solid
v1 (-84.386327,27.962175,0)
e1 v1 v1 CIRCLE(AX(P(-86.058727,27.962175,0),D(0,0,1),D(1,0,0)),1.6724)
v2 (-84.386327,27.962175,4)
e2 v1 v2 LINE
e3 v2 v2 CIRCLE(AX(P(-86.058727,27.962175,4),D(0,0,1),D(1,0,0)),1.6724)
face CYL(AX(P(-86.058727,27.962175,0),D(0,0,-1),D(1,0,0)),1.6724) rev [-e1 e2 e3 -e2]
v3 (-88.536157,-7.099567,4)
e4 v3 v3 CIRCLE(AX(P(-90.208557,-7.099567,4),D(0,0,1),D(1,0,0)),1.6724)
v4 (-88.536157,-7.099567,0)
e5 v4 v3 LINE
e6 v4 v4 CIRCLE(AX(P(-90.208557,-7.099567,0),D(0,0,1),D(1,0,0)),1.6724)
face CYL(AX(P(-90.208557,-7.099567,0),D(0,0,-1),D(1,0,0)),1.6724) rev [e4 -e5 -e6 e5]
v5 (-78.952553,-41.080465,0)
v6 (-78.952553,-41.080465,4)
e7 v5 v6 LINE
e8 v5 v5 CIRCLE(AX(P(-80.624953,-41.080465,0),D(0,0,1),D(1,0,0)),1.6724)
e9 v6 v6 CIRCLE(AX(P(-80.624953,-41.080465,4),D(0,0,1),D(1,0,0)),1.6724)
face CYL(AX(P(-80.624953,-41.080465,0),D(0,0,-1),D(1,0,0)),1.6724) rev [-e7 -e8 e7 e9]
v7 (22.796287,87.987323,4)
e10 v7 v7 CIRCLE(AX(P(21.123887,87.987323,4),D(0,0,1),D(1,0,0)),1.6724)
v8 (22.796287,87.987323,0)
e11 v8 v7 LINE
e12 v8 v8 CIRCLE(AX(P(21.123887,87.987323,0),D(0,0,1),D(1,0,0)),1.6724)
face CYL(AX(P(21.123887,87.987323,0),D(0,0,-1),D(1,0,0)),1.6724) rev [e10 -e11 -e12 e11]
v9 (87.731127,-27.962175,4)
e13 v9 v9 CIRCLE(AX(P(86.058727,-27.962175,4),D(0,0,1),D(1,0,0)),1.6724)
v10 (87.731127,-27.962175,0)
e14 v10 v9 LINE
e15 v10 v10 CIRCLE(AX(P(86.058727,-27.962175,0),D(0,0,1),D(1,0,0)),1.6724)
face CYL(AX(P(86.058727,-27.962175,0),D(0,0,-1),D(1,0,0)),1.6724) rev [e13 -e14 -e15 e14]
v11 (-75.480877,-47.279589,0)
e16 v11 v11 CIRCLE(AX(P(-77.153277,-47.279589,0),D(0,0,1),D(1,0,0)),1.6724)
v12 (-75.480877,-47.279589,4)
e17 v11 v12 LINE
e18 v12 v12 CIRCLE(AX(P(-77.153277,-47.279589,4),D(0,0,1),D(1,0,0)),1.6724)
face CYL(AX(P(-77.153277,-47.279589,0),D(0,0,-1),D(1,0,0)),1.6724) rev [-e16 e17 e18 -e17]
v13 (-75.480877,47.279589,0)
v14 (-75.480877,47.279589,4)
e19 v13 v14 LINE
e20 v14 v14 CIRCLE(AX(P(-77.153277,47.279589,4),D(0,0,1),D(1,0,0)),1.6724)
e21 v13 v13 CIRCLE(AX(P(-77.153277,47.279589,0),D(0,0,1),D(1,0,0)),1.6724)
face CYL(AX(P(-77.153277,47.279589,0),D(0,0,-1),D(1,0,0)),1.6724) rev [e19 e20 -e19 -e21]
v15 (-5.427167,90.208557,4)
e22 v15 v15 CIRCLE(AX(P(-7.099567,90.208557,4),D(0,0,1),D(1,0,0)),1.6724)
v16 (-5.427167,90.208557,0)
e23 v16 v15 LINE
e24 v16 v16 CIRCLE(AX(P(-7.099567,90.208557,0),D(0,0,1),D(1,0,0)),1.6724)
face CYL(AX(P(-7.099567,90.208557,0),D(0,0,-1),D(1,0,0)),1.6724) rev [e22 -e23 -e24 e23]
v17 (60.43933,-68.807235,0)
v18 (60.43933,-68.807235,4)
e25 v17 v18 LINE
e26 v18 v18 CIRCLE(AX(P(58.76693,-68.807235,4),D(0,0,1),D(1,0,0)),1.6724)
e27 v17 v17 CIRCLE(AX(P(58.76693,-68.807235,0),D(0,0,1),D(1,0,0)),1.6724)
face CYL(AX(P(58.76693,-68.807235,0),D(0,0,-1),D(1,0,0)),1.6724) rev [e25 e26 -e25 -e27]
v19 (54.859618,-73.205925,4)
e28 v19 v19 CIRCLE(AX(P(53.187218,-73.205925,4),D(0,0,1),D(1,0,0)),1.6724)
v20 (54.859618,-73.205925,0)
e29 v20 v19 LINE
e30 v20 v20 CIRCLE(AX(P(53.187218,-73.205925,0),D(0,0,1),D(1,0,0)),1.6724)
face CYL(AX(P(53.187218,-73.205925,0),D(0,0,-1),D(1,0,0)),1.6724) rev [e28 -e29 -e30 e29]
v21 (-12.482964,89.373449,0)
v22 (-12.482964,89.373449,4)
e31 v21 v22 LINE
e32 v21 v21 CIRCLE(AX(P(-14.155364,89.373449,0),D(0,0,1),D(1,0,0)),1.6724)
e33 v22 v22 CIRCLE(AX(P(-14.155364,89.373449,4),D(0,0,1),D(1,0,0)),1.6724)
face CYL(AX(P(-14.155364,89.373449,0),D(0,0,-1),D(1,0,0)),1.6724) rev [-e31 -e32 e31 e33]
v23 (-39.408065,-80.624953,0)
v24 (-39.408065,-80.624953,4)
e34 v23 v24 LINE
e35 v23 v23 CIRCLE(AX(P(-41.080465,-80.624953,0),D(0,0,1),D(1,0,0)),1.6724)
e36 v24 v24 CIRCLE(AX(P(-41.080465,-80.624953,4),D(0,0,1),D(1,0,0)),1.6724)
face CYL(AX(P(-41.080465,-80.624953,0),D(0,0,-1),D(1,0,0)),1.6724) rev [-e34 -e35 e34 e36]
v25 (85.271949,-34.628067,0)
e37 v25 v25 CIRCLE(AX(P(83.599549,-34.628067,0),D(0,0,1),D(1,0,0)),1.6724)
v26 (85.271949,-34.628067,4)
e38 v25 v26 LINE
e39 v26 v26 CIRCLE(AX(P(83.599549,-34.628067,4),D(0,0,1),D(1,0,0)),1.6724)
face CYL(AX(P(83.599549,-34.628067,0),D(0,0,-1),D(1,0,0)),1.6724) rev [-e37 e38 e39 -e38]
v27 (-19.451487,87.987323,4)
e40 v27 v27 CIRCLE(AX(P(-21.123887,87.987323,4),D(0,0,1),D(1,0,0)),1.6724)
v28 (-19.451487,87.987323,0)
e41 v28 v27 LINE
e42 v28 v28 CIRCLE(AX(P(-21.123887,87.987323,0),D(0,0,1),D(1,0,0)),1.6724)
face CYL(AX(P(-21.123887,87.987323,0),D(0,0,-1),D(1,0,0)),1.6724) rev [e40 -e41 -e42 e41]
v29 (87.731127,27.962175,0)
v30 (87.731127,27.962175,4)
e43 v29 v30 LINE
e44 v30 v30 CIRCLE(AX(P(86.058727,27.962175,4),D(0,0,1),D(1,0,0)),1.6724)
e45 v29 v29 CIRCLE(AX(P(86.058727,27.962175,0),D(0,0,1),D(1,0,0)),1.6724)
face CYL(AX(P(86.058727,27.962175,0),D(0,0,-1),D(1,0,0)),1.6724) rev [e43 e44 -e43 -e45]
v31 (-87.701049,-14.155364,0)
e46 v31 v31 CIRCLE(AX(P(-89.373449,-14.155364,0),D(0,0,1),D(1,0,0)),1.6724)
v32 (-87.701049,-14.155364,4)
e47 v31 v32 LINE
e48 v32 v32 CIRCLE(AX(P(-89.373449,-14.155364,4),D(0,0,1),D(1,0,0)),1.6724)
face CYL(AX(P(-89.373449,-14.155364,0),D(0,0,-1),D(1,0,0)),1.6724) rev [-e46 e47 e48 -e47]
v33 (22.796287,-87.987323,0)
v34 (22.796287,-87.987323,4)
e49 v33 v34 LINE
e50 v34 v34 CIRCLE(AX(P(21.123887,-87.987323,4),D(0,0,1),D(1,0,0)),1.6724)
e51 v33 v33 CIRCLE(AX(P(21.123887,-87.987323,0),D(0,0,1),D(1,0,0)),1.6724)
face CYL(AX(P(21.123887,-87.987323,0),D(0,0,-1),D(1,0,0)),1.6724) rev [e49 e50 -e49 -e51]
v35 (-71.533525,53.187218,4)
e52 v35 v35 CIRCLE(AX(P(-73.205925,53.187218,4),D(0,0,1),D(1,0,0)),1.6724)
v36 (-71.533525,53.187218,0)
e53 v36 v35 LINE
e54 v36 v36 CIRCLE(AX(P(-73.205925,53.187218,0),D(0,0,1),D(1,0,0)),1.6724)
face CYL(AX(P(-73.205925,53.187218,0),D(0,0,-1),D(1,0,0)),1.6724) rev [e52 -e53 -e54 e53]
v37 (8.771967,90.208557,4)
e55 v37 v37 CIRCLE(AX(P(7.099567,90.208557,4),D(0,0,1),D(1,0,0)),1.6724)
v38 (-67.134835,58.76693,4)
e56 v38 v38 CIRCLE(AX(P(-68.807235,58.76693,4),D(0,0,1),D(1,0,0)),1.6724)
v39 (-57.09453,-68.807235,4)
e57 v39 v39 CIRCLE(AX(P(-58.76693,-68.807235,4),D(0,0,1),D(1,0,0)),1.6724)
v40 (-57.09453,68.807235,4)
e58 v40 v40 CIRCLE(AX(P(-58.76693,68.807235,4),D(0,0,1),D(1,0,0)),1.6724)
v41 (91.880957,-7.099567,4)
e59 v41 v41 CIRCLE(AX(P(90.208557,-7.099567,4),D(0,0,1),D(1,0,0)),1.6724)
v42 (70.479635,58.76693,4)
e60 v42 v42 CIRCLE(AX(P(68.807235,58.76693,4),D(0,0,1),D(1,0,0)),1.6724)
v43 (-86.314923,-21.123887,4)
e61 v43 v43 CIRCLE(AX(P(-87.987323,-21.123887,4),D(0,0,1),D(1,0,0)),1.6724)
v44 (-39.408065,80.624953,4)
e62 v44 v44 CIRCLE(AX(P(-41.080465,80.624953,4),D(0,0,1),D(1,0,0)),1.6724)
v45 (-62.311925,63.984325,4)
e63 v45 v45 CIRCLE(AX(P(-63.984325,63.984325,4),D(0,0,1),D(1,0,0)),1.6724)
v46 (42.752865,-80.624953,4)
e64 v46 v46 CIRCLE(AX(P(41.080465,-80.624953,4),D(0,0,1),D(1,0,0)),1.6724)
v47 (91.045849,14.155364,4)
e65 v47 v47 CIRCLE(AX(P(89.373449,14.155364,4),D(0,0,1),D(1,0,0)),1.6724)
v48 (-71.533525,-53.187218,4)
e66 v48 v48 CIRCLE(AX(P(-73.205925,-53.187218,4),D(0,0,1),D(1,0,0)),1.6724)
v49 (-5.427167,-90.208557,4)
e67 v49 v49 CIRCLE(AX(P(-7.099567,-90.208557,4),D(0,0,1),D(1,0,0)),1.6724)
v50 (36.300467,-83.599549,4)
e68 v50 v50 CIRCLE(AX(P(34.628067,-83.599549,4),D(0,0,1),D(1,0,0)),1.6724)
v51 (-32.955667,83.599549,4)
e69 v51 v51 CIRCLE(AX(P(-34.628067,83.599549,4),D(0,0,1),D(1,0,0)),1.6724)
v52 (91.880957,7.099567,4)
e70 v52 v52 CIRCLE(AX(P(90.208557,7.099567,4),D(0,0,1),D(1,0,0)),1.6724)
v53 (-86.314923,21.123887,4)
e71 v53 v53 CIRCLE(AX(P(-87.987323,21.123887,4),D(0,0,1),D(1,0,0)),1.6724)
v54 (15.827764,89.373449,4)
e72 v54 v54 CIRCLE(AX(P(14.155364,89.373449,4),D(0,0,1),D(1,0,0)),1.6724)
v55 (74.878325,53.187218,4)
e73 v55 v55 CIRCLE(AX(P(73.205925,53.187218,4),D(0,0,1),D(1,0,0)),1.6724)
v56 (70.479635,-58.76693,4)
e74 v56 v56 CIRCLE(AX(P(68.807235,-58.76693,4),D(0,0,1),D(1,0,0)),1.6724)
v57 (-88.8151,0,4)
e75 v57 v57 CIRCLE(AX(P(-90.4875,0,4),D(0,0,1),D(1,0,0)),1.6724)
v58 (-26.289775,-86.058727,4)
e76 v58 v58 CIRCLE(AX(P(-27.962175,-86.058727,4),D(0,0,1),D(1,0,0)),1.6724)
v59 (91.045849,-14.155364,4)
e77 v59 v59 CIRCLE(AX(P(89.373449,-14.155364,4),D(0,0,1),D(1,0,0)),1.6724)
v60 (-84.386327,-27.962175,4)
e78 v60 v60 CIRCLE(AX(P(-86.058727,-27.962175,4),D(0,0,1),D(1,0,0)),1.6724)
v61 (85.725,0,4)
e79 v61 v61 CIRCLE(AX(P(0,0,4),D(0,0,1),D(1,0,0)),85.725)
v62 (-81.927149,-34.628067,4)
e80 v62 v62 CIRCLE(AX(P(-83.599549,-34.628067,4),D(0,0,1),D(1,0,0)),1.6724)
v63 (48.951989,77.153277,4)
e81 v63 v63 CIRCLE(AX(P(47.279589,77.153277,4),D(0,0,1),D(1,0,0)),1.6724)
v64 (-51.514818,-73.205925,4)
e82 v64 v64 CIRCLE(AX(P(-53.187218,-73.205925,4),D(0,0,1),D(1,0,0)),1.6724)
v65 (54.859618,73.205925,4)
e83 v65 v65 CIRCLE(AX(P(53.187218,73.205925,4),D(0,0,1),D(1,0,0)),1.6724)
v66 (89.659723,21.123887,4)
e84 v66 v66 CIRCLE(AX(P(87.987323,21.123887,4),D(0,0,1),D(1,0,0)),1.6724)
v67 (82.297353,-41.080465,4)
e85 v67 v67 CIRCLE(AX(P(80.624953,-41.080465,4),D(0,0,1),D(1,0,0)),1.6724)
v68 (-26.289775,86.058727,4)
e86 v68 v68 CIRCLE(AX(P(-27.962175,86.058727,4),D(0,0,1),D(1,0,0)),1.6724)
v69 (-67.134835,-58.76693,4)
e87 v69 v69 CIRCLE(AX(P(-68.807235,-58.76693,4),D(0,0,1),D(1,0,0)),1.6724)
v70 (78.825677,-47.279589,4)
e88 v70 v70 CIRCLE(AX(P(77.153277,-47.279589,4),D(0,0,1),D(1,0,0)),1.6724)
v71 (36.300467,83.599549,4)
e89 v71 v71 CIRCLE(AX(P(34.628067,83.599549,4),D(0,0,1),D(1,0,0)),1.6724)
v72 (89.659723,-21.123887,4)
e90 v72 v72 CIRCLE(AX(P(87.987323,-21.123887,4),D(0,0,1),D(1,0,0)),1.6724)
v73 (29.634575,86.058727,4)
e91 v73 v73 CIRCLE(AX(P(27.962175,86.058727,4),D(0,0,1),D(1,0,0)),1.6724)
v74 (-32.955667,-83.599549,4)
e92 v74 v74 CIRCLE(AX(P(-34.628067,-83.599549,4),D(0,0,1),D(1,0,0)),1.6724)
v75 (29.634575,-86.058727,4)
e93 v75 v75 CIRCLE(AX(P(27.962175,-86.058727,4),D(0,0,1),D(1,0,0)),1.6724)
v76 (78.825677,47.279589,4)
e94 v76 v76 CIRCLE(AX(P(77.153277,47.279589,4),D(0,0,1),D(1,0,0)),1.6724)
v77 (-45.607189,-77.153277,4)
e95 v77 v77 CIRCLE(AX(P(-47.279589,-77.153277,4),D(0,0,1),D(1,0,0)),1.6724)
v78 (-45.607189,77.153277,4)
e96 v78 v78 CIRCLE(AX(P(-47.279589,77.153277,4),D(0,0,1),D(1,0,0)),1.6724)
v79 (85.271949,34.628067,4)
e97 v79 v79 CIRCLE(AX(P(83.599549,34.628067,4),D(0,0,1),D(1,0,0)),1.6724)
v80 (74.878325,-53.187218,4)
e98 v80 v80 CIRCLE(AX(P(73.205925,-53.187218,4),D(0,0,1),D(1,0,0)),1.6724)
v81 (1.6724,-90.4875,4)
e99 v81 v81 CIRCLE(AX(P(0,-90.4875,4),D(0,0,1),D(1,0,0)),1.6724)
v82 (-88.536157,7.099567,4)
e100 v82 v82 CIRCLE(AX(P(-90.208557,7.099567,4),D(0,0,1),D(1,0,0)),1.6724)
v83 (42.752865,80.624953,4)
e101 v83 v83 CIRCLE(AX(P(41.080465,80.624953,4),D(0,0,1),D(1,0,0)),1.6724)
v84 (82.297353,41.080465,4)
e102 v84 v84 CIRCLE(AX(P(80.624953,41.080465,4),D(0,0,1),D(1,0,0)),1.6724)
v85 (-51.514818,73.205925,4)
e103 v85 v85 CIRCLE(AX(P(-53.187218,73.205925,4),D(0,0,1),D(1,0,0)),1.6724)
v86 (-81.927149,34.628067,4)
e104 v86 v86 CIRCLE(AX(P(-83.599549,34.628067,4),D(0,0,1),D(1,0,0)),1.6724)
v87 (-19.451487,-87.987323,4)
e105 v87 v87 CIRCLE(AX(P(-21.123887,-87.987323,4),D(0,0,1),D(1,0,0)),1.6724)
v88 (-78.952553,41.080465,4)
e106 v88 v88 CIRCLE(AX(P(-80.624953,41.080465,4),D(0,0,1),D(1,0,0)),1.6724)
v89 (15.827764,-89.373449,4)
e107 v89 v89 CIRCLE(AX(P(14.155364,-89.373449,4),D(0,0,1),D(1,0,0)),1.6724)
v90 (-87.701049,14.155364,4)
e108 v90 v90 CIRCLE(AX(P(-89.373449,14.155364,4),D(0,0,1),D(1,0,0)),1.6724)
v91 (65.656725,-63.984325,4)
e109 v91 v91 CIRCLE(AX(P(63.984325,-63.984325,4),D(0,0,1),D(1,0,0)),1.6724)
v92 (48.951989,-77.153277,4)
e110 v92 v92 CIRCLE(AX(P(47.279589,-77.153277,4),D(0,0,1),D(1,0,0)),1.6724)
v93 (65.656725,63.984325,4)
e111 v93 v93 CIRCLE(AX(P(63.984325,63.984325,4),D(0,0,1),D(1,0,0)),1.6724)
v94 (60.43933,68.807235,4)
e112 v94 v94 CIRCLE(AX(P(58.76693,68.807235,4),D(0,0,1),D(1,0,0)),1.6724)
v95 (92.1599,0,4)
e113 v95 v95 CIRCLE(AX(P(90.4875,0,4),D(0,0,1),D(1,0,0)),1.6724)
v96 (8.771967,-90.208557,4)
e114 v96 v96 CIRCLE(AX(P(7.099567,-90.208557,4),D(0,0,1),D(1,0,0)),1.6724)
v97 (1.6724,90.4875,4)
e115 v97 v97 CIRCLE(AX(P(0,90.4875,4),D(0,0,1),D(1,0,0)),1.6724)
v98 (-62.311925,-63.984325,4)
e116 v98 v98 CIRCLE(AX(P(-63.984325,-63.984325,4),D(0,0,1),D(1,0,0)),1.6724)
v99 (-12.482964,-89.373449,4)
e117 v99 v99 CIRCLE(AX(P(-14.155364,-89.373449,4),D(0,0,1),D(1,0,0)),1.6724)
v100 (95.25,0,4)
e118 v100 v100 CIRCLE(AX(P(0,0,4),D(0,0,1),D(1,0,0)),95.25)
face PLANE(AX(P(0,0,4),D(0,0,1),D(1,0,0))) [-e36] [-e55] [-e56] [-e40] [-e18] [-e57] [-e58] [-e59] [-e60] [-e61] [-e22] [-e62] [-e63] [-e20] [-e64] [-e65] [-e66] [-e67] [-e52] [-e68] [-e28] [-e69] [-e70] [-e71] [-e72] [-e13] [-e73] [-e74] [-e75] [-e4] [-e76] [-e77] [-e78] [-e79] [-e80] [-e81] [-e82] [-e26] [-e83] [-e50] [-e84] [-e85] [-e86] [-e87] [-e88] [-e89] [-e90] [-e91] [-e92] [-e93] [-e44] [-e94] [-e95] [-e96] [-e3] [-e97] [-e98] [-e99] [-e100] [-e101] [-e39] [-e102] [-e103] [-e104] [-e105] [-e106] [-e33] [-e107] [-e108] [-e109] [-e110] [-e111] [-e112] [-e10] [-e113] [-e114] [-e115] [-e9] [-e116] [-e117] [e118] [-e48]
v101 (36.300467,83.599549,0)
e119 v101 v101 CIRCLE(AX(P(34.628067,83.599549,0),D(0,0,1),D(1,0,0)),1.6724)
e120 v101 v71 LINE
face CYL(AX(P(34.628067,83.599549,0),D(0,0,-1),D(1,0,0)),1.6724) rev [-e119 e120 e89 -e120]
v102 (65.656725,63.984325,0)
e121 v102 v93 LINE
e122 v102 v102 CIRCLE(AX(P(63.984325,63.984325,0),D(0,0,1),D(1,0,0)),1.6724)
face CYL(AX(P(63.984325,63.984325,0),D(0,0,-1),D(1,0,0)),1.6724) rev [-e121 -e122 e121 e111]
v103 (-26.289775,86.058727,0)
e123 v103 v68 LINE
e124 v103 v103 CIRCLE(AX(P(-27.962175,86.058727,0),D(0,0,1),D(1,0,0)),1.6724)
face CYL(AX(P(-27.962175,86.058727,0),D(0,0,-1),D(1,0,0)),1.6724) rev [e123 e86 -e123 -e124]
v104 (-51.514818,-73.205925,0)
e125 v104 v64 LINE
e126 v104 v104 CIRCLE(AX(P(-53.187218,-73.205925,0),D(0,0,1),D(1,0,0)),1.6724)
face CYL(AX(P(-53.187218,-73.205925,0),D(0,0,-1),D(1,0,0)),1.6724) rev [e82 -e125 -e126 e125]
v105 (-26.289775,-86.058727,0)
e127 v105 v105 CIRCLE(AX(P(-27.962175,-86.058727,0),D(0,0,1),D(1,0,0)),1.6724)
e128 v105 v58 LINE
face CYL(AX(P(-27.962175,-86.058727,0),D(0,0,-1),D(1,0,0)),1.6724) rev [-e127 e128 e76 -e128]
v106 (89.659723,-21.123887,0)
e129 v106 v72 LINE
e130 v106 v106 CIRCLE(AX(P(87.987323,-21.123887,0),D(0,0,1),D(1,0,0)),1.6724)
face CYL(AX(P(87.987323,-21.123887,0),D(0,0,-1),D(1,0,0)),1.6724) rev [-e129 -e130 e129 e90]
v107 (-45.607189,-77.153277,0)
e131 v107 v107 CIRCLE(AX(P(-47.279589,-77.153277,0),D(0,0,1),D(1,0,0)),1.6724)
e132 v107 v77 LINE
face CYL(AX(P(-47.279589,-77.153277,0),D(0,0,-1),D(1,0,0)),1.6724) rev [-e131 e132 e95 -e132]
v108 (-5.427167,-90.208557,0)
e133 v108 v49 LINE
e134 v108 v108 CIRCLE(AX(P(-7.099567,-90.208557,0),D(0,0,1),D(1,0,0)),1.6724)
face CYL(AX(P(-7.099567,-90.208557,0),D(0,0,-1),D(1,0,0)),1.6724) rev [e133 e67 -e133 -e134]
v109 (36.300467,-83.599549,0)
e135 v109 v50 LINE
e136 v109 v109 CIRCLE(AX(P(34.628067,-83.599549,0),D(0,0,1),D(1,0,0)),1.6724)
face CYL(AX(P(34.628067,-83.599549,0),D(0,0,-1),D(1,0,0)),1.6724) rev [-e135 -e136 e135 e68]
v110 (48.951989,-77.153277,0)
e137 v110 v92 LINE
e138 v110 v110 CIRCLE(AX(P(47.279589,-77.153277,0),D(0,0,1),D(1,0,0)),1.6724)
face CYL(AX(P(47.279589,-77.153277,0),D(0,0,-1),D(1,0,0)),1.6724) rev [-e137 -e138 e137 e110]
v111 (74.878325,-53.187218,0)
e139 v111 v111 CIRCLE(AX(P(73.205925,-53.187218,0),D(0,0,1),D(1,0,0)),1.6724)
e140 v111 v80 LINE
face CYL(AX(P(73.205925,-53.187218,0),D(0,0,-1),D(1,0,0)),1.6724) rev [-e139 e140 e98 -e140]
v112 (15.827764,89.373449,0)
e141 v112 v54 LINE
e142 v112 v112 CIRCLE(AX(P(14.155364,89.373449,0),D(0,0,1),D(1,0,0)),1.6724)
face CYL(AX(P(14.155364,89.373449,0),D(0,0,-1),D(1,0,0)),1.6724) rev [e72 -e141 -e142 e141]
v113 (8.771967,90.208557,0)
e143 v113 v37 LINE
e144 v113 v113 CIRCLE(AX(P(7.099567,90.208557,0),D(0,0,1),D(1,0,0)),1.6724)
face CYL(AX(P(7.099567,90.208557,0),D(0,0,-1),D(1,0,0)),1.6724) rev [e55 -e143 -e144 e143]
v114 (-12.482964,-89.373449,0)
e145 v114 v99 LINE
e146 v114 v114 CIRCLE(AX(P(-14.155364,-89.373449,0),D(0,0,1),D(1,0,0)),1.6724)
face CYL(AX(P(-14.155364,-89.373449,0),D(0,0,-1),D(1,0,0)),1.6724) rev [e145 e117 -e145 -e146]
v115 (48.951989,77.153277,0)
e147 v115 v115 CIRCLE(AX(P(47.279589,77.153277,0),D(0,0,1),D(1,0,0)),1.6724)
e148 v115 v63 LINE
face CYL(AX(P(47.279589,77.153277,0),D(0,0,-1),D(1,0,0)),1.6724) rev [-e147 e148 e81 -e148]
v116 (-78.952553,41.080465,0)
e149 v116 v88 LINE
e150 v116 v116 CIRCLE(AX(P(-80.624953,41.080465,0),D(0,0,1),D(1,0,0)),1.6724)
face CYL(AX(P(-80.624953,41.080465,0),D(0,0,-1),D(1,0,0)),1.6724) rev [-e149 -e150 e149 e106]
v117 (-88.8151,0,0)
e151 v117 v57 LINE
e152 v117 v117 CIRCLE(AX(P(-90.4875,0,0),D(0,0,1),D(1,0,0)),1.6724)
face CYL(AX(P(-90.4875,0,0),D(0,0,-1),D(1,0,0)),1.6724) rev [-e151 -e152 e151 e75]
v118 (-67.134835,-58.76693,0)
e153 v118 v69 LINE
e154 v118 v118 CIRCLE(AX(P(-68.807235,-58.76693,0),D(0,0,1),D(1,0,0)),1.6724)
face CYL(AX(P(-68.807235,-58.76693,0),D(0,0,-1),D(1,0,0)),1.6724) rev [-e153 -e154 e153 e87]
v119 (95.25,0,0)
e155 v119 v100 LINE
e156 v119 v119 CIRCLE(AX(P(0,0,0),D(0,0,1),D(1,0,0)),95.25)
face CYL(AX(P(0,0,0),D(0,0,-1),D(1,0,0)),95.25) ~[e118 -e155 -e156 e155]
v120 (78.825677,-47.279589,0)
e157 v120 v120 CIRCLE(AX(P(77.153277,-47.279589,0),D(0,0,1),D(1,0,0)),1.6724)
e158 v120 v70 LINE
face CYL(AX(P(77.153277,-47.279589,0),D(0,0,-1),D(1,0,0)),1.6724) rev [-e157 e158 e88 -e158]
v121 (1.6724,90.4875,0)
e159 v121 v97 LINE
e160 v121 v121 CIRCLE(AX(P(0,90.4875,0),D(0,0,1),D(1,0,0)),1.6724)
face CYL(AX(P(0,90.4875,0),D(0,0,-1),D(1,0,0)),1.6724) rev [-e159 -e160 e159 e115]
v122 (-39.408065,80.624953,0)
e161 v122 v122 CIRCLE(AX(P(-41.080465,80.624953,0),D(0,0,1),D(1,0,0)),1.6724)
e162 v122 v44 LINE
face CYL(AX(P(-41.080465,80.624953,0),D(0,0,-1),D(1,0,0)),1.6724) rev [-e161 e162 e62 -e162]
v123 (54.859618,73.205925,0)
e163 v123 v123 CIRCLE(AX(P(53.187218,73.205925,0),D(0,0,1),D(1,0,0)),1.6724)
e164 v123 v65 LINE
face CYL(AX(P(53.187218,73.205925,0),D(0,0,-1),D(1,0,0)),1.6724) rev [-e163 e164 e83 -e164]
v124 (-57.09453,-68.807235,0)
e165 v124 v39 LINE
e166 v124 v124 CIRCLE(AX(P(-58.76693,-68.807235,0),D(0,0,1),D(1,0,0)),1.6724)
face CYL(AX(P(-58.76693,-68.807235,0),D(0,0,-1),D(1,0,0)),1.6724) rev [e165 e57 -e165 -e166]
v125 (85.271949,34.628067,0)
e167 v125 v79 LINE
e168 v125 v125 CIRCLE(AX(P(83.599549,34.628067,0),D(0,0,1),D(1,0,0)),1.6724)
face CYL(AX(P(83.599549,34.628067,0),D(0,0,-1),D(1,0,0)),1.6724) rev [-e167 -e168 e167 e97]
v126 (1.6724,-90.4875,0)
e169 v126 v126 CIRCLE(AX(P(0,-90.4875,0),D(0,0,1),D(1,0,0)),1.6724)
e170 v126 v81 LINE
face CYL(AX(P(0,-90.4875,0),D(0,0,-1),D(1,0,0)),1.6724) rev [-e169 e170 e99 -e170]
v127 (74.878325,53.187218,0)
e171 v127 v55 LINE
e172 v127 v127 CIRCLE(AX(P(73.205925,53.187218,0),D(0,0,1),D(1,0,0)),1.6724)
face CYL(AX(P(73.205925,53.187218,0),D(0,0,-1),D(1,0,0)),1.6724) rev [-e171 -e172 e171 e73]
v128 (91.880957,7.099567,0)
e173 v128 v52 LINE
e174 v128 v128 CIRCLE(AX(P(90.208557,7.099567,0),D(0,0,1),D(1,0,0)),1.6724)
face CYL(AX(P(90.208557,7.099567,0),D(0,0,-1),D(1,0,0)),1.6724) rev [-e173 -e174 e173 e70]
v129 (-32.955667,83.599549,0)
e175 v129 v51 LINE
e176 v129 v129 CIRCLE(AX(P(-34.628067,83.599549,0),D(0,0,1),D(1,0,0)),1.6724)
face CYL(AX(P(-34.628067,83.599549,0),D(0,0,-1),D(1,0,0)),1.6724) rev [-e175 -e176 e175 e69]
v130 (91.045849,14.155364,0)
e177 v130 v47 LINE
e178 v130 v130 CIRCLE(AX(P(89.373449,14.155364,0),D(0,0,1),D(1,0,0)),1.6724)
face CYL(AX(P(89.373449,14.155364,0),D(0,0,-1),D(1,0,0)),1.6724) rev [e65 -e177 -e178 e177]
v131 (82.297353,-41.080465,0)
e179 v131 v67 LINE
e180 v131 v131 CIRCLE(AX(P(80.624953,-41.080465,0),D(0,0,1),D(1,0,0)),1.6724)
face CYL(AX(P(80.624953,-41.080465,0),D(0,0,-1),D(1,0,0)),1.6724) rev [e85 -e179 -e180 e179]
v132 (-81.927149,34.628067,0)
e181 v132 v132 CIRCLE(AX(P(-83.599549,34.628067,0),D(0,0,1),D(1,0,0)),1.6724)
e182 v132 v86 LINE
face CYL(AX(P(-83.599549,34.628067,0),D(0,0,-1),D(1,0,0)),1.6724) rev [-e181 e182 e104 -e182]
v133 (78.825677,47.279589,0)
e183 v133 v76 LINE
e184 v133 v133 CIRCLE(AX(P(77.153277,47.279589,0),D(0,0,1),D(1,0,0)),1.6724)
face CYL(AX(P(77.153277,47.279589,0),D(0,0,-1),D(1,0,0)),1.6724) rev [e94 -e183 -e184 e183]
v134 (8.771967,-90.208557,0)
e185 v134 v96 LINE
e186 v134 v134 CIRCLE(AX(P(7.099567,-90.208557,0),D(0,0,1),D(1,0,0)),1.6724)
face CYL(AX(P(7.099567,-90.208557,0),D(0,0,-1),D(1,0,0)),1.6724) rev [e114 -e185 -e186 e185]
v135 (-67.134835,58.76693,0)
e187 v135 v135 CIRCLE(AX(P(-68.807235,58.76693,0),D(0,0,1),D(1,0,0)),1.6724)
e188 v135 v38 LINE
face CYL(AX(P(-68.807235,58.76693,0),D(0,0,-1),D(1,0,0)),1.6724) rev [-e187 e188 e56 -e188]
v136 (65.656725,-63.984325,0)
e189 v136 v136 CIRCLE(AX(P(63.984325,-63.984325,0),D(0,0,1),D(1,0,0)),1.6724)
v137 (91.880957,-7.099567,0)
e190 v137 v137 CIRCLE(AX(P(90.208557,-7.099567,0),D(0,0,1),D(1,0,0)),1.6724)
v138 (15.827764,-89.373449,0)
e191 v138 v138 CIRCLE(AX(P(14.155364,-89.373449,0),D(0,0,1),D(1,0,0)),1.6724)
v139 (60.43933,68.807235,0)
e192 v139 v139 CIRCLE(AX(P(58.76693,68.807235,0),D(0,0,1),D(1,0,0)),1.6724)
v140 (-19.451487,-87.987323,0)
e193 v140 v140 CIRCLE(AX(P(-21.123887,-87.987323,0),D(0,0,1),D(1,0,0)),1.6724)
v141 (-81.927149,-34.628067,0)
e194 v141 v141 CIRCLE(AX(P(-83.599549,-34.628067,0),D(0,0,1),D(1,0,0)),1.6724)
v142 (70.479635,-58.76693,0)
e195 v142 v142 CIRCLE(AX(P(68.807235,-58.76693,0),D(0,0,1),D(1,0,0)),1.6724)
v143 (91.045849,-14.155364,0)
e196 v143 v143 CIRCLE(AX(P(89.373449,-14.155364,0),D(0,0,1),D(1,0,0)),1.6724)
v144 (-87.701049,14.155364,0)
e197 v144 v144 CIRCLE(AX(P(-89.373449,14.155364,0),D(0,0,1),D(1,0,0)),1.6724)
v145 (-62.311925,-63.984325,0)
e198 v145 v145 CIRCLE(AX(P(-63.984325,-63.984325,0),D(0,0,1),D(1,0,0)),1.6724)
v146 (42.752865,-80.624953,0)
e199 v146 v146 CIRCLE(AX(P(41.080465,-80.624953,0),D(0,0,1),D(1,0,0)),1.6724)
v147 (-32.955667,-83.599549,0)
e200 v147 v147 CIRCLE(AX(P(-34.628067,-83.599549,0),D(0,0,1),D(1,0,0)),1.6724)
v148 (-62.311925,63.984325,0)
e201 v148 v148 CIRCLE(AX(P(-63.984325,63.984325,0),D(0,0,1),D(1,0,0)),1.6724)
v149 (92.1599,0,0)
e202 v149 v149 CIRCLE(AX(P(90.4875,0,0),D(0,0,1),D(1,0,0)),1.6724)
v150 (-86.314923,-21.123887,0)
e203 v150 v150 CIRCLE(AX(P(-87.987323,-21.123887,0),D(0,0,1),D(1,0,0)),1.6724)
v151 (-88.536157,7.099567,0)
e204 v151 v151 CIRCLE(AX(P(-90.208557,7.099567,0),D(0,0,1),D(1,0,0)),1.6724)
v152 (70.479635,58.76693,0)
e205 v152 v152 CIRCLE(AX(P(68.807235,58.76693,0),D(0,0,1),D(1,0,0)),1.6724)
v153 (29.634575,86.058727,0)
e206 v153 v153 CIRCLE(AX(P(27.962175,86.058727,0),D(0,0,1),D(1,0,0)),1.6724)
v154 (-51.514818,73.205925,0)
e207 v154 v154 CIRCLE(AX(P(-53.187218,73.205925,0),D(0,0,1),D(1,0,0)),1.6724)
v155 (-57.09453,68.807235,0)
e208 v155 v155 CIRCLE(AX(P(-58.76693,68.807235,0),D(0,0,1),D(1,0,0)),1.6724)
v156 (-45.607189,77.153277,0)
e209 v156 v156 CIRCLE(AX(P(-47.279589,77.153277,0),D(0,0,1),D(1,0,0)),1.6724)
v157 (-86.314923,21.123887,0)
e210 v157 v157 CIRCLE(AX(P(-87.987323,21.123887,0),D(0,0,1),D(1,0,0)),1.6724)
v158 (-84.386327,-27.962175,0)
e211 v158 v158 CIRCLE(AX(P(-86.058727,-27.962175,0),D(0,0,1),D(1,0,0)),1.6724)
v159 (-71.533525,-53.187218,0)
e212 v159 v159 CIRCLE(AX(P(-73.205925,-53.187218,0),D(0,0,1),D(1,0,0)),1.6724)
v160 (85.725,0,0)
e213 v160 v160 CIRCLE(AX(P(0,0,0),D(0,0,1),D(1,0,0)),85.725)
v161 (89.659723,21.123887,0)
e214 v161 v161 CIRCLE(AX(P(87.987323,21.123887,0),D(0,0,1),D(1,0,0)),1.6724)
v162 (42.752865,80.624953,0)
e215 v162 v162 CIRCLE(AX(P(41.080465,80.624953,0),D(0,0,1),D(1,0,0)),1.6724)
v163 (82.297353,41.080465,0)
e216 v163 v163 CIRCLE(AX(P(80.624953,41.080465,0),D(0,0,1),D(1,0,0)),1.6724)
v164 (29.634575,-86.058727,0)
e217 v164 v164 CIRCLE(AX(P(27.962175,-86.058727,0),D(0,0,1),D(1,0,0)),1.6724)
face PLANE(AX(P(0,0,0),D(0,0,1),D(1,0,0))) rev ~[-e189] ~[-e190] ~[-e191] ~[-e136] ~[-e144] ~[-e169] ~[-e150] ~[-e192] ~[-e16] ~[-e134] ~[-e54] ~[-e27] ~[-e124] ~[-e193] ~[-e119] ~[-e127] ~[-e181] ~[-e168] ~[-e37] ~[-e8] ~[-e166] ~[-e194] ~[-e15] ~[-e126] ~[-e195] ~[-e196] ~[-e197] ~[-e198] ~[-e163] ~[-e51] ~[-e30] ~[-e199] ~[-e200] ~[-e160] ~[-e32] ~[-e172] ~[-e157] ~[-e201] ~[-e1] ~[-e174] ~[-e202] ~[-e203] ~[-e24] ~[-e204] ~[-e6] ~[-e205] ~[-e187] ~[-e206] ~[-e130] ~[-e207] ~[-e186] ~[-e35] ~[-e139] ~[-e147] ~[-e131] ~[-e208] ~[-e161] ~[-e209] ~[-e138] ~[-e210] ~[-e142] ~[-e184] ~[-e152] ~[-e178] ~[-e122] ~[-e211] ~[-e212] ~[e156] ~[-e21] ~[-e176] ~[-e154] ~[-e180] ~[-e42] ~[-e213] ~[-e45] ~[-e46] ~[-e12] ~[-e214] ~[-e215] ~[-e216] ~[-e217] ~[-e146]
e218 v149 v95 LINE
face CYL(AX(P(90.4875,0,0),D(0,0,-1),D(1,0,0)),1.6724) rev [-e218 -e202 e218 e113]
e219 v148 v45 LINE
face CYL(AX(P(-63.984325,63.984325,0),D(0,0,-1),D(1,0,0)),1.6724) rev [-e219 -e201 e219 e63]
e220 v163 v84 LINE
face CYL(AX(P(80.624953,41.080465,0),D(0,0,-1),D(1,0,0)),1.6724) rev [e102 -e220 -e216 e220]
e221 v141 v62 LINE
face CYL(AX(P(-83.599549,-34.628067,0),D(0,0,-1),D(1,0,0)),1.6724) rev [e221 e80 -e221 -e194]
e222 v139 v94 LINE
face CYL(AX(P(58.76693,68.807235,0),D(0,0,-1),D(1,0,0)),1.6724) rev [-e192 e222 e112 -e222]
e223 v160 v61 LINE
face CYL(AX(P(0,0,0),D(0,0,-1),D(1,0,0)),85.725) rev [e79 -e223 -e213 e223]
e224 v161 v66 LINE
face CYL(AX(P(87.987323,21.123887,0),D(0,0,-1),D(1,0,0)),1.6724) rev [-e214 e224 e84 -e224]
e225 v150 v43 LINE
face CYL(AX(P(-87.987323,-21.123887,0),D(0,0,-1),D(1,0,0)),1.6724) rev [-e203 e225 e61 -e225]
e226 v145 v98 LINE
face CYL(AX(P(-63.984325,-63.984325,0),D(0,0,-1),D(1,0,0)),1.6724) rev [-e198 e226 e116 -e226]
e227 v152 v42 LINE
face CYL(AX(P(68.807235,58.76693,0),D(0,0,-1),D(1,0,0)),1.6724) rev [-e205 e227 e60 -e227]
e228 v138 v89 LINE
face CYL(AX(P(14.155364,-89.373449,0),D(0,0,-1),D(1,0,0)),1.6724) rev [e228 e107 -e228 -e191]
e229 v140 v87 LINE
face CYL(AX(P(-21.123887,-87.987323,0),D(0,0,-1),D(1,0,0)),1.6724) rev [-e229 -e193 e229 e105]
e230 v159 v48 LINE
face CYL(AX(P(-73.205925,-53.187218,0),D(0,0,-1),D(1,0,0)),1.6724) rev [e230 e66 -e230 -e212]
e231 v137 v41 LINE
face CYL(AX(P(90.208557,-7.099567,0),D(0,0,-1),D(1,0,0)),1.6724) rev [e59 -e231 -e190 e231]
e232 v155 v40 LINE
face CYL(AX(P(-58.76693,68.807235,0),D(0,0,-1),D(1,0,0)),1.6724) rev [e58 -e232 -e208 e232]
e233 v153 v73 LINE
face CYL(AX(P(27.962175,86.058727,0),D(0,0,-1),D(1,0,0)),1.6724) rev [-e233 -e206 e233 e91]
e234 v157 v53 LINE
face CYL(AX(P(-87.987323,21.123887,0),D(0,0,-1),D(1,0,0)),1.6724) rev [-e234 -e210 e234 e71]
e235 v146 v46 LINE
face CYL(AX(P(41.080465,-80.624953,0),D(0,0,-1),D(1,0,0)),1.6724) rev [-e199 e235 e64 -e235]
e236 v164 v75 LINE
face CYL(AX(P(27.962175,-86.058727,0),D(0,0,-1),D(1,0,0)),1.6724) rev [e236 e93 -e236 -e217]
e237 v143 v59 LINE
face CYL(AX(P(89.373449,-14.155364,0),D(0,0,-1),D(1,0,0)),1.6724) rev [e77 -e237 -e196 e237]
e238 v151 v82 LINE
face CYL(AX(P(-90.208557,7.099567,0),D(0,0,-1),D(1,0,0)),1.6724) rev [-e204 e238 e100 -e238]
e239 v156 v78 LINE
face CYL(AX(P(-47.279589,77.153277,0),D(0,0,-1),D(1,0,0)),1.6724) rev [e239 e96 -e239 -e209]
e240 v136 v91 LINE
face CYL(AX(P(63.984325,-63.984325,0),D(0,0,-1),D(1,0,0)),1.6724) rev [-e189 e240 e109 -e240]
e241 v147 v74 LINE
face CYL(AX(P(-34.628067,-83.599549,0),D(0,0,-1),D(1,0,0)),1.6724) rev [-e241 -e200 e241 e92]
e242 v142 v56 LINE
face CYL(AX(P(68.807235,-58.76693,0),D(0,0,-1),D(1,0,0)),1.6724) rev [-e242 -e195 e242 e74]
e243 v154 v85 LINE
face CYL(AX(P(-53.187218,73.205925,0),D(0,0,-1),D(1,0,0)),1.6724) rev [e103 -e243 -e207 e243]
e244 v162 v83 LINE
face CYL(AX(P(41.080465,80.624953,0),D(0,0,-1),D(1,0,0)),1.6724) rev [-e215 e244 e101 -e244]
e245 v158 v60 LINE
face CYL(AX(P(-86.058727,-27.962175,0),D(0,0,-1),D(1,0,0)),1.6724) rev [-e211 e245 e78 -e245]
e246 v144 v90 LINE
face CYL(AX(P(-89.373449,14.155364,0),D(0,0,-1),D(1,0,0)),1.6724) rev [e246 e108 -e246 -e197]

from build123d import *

# Parameters (mm, degrees)
MODEL_R             = 95.25
MODEL_R_2           = 85.725
MODEL_R_3           = 1.6724
BOSS_EXTRUDE1_DEPTH = 4


with BuildPart() as part:
    # Model → Boss-Extrude1 (new body)
    with BuildSketch(Plane.XY):
        Circle(MODEL_R)
        Circle(MODEL_R_2, mode=Mode.SUBTRACT)
        with Locations((90.208557236, -7.099567425)):
            Circle(MODEL_R_3, mode=Mode.SUBTRACT)
        with Locations((89.37344872, -14.155363655)):
            Circle(MODEL_R_3, mode=Mode.SUBTRACT)
        with Locations((87.987323172, -21.123887362)):
            Circle(MODEL_R_3, mode=Mode.SUBTRACT)
        with Locations((86.058726518, -27.962175279)):
            Circle(MODEL_R_3, mode=Mode.SUBTRACT)
        with Locations((83.599549198, -34.628067086)):
            Circle(MODEL_R_3, mode=Mode.SUBTRACT)
        with Locations((80.624952857, -41.080465345)):
            Circle(MODEL_R_3, mode=Mode.SUBTRACT)
        with Locations((77.153276872, -47.279588875)):
            Circle(MODEL_R_3, mode=Mode.SUBTRACT)
        with Locations((73.205925279, -53.187218017)):
            Circle(MODEL_R_3, mode=Mode.SUBTRACT)
        with Locations((68.807234812, -58.766930273)):
            Circle(MODEL_R_3, mode=Mode.SUBTRACT)
        with Locations((63.984324863, -63.984324863)):
            Circle(MODEL_R_3, mode=Mode.SUBTRACT)
        with Locations((58.766930273, -68.807234812)):
            Circle(MODEL_R_3, mode=Mode.SUBTRACT)
        with Locations((53.187218017, -73.205925279)):
            Circle(MODEL_R_3, mode=Mode.SUBTRACT)
        with Locations((47.279588875, -77.153276872)):
            Circle(MODEL_R_3, mode=Mode.SUBTRACT)
        with Locations((41.080465345, -80.624952857)):
            Circle(MODEL_R_3, mode=Mode.SUBTRACT)
        with Locations((34.628067086, -83.599549198)):
            Circle(MODEL_R_3, mode=Mode.SUBTRACT)
        with Locations((27.962175279, -86.058726518)):
            Circle(MODEL_R_3, mode=Mode.SUBTRACT)
        with Locations((21.123887362, -87.987323172)):
            Circle(MODEL_R_3, mode=Mode.SUBTRACT)
        with Locations((14.155363655, -89.37344872)):
            Circle(MODEL_R_3, mode=Mode.SUBTRACT)
        with Locations((7.099567425, -90.208557236)):
            Circle(MODEL_R_3, mode=Mode.SUBTRACT)
        with Locations((0, -90.4875)):
            Circle(MODEL_R_3, mode=Mode.SUBTRACT)
        with Locations((-7.099567425, -90.208557236)):
            Circle(MODEL_R_3, mode=Mode.SUBTRACT)
        with Locations((-14.155363655, -89.37344872)):
            Circle(MODEL_R_3, mode=Mode.SUBTRACT)
        with Locations((-21.123887362, -87.987323172)):
            Circle(MODEL_R_3, mode=Mode.SUBTRACT)
        with Locations((-27.962175279, -86.058726518)):
            Circle(MODEL_R_3, mode=Mode.SUBTRACT)
        with Locations((-34.628067086, -83.599549198)):
            Circle(MODEL_R_3, mode=Mode.SUBTRACT)
        with Locations((-41.080465345, -80.624952857)):
            Circle(MODEL_R_3, mode=Mode.SUBTRACT)
        with Locations((-47.279588875, -77.153276872)):
            Circle(MODEL_R_3, mode=Mode.SUBTRACT)
        with Locations((-53.187218017, -73.205925279)):
            Circle(MODEL_R_3, mode=Mode.SUBTRACT)
        with Locations((-58.766930273, -68.807234812)):
            Circle(MODEL_R_3, mode=Mode.SUBTRACT)
        with Locations((-63.984324863, -63.984324863)):
            Circle(MODEL_R_3, mode=Mode.SUBTRACT)
        with Locations((-68.807234812, -58.766930273)):
            Circle(MODEL_R_3, mode=Mode.SUBTRACT)
        with Locations((-73.205925279, -53.187218017)):
            Circle(MODEL_R_3, mode=Mode.SUBTRACT)
        with Locations((-77.153276872, -47.279588875)):
            Circle(MODEL_R_3, mode=Mode.SUBTRACT)
        with Locations((-80.624952857, -41.080465345)):
            Circle(MODEL_R_3, mode=Mode.SUBTRACT)
        with Locations((-83.599549198, -34.628067086)):
            Circle(MODEL_R_3, mode=Mode.SUBTRACT)
        with Locations((-86.058726518, -27.962175279)):
            Circle(MODEL_R_3, mode=Mode.SUBTRACT)
        with Locations((-87.987323172, -21.123887362)):
            Circle(MODEL_R_3, mode=Mode.SUBTRACT)
        with Locations((-89.37344872, -14.155363655)):
            Circle(MODEL_R_3, mode=Mode.SUBTRACT)
        with Locations((-90.208557236, -7.099567425)):
            Circle(MODEL_R_3, mode=Mode.SUBTRACT)
        with Locations((-90.4875, 0)):
            Circle(MODEL_R_3, mode=Mode.SUBTRACT)
        with Locations((-90.208557236, 7.099567425)):
            Circle(MODEL_R_3, mode=Mode.SUBTRACT)
        with Locations((-89.37344872, 14.155363655)):
            Circle(MODEL_R_3, mode=Mode.SUBTRACT)
        with Locations((-87.987323172, 21.123887362)):
            Circle(MODEL_R_3, mode=Mode.SUBTRACT)
        with Locations((-86.058726518, 27.962175279)):
            Circle(MODEL_R_3, mode=Mode.SUBTRACT)
        with Locations((-83.599549198, 34.628067086)):
            Circle(MODEL_R_3, mode=Mode.SUBTRACT)
        with Locations((-80.624952857, 41.080465345)):
            Circle(MODEL_R_3, mode=Mode.SUBTRACT)
        with Locations((-77.153276872, 47.279588875)):
            Circle(MODEL_R_3, mode=Mode.SUBTRACT)
        with Locations((-73.205925279, 53.187218017)):
            Circle(MODEL_R_3, mode=Mode.SUBTRACT)
        with Locations((-68.807234812, 58.766930273)):
            Circle(MODEL_R_3, mode=Mode.SUBTRACT)
        with Locations((-63.984324863, 63.984324863)):
            Circle(MODEL_R_3, mode=Mode.SUBTRACT)
        with Locations((-58.766930273, 68.807234812)):
            Circle(MODEL_R_3, mode=Mode.SUBTRACT)
        with Locations((-53.187218017, 73.205925279)):
            Circle(MODEL_R_3, mode=Mode.SUBTRACT)
        with Locations((-47.279588875, 77.153276872)):
            Circle(MODEL_R_3, mode=Mode.SUBTRACT)
        with Locations((-41.080465345, 80.624952857)):
            Circle(MODEL_R_3, mode=Mode.SUBTRACT)
        with Locations((-34.628067086, 83.599549198)):
            Circle(MODEL_R_3, mode=Mode.SUBTRACT)
        with Locations((-27.962175279, 86.058726518)):
            Circle(MODEL_R_3, mode=Mode.SUBTRACT)
        with Locations((-21.123887362, 87.987323172)):
            Circle(MODEL_R_3, mode=Mode.SUBTRACT)
        with Locations((-14.155363655, 89.37344872)):
            Circle(MODEL_R_3, mode=Mode.SUBTRACT)
        with Locations((-7.099567425, 90.208557236)):
            Circle(MODEL_R_3, mode=Mode.SUBTRACT)
        with Locations((0, 90.4875)):
            Circle(MODEL_R_3, mode=Mode.SUBTRACT)
        with Locations((7.099567425, 90.208557236)):
            Circle(MODEL_R_3, mode=Mode.SUBTRACT)
        with Locations((14.155363655, 89.37344872)):
            Circle(MODEL_R_3, mode=Mode.SUBTRACT)
        with Locations((21.123887362, 87.987323172)):
            Circle(MODEL_R_3, mode=Mode.SUBTRACT)
        with Locations((27.962175279, 86.058726518)):
            Circle(MODEL_R_3, mode=Mode.SUBTRACT)
        with Locations((34.628067086, 83.599549198)):
            Circle(MODEL_R_3, mode=Mode.SUBTRACT)
        with Locations((41.080465345, 80.624952857)):
            Circle(MODEL_R_3, mode=Mode.SUBTRACT)
        with Locations((47.279588875, 77.153276872)):
            Circle(MODEL_R_3, mode=Mode.SUBTRACT)
        with Locations((53.187218017, 73.205925279)):
            Circle(MODEL_R_3, mode=Mode.SUBTRACT)
        with Locations((58.766930273, 68.807234812)):
            Circle(MODEL_R_3, mode=Mode.SUBTRACT)
        with Locations((63.984324863, 63.984324863)):
            Circle(MODEL_R_3, mode=Mode.SUBTRACT)
        with Locations((68.807234812, 58.766930273)):
            Circle(MODEL_R_3, mode=Mode.SUBTRACT)
        with Locations((73.205925279, 53.187218017)):
            Circle(MODEL_R_3, mode=Mode.SUBTRACT)
        with Locations((77.153276872, 47.279588875)):
            Circle(MODEL_R_3, mode=Mode.SUBTRACT)
        with Locations((80.624952857, 41.080465345)):
            Circle(MODEL_R_3, mode=Mode.SUBTRACT)
        with Locations((83.599549198, 34.628067086)):
            Circle(MODEL_R_3, mode=Mode.SUBTRACT)
        with Locations((86.058726518, 27.962175279)):
            Circle(MODEL_R_3, mode=Mode.SUBTRACT)
        with Locations((87.987323172, 21.123887362)):
            Circle(MODEL_R_3, mode=Mode.SUBTRACT)
        with Locations((89.37344872, 14.155363655)):
            Circle(MODEL_R_3, mode=Mode.SUBTRACT)
        with Locations((90.208557236, 7.099567425)):
            Circle(MODEL_R_3, mode=Mode.SUBTRACT)
        with Locations((90.4875, 0)):
            Circle(MODEL_R_3, mode=Mode.SUBTRACT)
    extrude(amount=BOSS_EXTRUDE1_DEPTH)


solid = part.part
